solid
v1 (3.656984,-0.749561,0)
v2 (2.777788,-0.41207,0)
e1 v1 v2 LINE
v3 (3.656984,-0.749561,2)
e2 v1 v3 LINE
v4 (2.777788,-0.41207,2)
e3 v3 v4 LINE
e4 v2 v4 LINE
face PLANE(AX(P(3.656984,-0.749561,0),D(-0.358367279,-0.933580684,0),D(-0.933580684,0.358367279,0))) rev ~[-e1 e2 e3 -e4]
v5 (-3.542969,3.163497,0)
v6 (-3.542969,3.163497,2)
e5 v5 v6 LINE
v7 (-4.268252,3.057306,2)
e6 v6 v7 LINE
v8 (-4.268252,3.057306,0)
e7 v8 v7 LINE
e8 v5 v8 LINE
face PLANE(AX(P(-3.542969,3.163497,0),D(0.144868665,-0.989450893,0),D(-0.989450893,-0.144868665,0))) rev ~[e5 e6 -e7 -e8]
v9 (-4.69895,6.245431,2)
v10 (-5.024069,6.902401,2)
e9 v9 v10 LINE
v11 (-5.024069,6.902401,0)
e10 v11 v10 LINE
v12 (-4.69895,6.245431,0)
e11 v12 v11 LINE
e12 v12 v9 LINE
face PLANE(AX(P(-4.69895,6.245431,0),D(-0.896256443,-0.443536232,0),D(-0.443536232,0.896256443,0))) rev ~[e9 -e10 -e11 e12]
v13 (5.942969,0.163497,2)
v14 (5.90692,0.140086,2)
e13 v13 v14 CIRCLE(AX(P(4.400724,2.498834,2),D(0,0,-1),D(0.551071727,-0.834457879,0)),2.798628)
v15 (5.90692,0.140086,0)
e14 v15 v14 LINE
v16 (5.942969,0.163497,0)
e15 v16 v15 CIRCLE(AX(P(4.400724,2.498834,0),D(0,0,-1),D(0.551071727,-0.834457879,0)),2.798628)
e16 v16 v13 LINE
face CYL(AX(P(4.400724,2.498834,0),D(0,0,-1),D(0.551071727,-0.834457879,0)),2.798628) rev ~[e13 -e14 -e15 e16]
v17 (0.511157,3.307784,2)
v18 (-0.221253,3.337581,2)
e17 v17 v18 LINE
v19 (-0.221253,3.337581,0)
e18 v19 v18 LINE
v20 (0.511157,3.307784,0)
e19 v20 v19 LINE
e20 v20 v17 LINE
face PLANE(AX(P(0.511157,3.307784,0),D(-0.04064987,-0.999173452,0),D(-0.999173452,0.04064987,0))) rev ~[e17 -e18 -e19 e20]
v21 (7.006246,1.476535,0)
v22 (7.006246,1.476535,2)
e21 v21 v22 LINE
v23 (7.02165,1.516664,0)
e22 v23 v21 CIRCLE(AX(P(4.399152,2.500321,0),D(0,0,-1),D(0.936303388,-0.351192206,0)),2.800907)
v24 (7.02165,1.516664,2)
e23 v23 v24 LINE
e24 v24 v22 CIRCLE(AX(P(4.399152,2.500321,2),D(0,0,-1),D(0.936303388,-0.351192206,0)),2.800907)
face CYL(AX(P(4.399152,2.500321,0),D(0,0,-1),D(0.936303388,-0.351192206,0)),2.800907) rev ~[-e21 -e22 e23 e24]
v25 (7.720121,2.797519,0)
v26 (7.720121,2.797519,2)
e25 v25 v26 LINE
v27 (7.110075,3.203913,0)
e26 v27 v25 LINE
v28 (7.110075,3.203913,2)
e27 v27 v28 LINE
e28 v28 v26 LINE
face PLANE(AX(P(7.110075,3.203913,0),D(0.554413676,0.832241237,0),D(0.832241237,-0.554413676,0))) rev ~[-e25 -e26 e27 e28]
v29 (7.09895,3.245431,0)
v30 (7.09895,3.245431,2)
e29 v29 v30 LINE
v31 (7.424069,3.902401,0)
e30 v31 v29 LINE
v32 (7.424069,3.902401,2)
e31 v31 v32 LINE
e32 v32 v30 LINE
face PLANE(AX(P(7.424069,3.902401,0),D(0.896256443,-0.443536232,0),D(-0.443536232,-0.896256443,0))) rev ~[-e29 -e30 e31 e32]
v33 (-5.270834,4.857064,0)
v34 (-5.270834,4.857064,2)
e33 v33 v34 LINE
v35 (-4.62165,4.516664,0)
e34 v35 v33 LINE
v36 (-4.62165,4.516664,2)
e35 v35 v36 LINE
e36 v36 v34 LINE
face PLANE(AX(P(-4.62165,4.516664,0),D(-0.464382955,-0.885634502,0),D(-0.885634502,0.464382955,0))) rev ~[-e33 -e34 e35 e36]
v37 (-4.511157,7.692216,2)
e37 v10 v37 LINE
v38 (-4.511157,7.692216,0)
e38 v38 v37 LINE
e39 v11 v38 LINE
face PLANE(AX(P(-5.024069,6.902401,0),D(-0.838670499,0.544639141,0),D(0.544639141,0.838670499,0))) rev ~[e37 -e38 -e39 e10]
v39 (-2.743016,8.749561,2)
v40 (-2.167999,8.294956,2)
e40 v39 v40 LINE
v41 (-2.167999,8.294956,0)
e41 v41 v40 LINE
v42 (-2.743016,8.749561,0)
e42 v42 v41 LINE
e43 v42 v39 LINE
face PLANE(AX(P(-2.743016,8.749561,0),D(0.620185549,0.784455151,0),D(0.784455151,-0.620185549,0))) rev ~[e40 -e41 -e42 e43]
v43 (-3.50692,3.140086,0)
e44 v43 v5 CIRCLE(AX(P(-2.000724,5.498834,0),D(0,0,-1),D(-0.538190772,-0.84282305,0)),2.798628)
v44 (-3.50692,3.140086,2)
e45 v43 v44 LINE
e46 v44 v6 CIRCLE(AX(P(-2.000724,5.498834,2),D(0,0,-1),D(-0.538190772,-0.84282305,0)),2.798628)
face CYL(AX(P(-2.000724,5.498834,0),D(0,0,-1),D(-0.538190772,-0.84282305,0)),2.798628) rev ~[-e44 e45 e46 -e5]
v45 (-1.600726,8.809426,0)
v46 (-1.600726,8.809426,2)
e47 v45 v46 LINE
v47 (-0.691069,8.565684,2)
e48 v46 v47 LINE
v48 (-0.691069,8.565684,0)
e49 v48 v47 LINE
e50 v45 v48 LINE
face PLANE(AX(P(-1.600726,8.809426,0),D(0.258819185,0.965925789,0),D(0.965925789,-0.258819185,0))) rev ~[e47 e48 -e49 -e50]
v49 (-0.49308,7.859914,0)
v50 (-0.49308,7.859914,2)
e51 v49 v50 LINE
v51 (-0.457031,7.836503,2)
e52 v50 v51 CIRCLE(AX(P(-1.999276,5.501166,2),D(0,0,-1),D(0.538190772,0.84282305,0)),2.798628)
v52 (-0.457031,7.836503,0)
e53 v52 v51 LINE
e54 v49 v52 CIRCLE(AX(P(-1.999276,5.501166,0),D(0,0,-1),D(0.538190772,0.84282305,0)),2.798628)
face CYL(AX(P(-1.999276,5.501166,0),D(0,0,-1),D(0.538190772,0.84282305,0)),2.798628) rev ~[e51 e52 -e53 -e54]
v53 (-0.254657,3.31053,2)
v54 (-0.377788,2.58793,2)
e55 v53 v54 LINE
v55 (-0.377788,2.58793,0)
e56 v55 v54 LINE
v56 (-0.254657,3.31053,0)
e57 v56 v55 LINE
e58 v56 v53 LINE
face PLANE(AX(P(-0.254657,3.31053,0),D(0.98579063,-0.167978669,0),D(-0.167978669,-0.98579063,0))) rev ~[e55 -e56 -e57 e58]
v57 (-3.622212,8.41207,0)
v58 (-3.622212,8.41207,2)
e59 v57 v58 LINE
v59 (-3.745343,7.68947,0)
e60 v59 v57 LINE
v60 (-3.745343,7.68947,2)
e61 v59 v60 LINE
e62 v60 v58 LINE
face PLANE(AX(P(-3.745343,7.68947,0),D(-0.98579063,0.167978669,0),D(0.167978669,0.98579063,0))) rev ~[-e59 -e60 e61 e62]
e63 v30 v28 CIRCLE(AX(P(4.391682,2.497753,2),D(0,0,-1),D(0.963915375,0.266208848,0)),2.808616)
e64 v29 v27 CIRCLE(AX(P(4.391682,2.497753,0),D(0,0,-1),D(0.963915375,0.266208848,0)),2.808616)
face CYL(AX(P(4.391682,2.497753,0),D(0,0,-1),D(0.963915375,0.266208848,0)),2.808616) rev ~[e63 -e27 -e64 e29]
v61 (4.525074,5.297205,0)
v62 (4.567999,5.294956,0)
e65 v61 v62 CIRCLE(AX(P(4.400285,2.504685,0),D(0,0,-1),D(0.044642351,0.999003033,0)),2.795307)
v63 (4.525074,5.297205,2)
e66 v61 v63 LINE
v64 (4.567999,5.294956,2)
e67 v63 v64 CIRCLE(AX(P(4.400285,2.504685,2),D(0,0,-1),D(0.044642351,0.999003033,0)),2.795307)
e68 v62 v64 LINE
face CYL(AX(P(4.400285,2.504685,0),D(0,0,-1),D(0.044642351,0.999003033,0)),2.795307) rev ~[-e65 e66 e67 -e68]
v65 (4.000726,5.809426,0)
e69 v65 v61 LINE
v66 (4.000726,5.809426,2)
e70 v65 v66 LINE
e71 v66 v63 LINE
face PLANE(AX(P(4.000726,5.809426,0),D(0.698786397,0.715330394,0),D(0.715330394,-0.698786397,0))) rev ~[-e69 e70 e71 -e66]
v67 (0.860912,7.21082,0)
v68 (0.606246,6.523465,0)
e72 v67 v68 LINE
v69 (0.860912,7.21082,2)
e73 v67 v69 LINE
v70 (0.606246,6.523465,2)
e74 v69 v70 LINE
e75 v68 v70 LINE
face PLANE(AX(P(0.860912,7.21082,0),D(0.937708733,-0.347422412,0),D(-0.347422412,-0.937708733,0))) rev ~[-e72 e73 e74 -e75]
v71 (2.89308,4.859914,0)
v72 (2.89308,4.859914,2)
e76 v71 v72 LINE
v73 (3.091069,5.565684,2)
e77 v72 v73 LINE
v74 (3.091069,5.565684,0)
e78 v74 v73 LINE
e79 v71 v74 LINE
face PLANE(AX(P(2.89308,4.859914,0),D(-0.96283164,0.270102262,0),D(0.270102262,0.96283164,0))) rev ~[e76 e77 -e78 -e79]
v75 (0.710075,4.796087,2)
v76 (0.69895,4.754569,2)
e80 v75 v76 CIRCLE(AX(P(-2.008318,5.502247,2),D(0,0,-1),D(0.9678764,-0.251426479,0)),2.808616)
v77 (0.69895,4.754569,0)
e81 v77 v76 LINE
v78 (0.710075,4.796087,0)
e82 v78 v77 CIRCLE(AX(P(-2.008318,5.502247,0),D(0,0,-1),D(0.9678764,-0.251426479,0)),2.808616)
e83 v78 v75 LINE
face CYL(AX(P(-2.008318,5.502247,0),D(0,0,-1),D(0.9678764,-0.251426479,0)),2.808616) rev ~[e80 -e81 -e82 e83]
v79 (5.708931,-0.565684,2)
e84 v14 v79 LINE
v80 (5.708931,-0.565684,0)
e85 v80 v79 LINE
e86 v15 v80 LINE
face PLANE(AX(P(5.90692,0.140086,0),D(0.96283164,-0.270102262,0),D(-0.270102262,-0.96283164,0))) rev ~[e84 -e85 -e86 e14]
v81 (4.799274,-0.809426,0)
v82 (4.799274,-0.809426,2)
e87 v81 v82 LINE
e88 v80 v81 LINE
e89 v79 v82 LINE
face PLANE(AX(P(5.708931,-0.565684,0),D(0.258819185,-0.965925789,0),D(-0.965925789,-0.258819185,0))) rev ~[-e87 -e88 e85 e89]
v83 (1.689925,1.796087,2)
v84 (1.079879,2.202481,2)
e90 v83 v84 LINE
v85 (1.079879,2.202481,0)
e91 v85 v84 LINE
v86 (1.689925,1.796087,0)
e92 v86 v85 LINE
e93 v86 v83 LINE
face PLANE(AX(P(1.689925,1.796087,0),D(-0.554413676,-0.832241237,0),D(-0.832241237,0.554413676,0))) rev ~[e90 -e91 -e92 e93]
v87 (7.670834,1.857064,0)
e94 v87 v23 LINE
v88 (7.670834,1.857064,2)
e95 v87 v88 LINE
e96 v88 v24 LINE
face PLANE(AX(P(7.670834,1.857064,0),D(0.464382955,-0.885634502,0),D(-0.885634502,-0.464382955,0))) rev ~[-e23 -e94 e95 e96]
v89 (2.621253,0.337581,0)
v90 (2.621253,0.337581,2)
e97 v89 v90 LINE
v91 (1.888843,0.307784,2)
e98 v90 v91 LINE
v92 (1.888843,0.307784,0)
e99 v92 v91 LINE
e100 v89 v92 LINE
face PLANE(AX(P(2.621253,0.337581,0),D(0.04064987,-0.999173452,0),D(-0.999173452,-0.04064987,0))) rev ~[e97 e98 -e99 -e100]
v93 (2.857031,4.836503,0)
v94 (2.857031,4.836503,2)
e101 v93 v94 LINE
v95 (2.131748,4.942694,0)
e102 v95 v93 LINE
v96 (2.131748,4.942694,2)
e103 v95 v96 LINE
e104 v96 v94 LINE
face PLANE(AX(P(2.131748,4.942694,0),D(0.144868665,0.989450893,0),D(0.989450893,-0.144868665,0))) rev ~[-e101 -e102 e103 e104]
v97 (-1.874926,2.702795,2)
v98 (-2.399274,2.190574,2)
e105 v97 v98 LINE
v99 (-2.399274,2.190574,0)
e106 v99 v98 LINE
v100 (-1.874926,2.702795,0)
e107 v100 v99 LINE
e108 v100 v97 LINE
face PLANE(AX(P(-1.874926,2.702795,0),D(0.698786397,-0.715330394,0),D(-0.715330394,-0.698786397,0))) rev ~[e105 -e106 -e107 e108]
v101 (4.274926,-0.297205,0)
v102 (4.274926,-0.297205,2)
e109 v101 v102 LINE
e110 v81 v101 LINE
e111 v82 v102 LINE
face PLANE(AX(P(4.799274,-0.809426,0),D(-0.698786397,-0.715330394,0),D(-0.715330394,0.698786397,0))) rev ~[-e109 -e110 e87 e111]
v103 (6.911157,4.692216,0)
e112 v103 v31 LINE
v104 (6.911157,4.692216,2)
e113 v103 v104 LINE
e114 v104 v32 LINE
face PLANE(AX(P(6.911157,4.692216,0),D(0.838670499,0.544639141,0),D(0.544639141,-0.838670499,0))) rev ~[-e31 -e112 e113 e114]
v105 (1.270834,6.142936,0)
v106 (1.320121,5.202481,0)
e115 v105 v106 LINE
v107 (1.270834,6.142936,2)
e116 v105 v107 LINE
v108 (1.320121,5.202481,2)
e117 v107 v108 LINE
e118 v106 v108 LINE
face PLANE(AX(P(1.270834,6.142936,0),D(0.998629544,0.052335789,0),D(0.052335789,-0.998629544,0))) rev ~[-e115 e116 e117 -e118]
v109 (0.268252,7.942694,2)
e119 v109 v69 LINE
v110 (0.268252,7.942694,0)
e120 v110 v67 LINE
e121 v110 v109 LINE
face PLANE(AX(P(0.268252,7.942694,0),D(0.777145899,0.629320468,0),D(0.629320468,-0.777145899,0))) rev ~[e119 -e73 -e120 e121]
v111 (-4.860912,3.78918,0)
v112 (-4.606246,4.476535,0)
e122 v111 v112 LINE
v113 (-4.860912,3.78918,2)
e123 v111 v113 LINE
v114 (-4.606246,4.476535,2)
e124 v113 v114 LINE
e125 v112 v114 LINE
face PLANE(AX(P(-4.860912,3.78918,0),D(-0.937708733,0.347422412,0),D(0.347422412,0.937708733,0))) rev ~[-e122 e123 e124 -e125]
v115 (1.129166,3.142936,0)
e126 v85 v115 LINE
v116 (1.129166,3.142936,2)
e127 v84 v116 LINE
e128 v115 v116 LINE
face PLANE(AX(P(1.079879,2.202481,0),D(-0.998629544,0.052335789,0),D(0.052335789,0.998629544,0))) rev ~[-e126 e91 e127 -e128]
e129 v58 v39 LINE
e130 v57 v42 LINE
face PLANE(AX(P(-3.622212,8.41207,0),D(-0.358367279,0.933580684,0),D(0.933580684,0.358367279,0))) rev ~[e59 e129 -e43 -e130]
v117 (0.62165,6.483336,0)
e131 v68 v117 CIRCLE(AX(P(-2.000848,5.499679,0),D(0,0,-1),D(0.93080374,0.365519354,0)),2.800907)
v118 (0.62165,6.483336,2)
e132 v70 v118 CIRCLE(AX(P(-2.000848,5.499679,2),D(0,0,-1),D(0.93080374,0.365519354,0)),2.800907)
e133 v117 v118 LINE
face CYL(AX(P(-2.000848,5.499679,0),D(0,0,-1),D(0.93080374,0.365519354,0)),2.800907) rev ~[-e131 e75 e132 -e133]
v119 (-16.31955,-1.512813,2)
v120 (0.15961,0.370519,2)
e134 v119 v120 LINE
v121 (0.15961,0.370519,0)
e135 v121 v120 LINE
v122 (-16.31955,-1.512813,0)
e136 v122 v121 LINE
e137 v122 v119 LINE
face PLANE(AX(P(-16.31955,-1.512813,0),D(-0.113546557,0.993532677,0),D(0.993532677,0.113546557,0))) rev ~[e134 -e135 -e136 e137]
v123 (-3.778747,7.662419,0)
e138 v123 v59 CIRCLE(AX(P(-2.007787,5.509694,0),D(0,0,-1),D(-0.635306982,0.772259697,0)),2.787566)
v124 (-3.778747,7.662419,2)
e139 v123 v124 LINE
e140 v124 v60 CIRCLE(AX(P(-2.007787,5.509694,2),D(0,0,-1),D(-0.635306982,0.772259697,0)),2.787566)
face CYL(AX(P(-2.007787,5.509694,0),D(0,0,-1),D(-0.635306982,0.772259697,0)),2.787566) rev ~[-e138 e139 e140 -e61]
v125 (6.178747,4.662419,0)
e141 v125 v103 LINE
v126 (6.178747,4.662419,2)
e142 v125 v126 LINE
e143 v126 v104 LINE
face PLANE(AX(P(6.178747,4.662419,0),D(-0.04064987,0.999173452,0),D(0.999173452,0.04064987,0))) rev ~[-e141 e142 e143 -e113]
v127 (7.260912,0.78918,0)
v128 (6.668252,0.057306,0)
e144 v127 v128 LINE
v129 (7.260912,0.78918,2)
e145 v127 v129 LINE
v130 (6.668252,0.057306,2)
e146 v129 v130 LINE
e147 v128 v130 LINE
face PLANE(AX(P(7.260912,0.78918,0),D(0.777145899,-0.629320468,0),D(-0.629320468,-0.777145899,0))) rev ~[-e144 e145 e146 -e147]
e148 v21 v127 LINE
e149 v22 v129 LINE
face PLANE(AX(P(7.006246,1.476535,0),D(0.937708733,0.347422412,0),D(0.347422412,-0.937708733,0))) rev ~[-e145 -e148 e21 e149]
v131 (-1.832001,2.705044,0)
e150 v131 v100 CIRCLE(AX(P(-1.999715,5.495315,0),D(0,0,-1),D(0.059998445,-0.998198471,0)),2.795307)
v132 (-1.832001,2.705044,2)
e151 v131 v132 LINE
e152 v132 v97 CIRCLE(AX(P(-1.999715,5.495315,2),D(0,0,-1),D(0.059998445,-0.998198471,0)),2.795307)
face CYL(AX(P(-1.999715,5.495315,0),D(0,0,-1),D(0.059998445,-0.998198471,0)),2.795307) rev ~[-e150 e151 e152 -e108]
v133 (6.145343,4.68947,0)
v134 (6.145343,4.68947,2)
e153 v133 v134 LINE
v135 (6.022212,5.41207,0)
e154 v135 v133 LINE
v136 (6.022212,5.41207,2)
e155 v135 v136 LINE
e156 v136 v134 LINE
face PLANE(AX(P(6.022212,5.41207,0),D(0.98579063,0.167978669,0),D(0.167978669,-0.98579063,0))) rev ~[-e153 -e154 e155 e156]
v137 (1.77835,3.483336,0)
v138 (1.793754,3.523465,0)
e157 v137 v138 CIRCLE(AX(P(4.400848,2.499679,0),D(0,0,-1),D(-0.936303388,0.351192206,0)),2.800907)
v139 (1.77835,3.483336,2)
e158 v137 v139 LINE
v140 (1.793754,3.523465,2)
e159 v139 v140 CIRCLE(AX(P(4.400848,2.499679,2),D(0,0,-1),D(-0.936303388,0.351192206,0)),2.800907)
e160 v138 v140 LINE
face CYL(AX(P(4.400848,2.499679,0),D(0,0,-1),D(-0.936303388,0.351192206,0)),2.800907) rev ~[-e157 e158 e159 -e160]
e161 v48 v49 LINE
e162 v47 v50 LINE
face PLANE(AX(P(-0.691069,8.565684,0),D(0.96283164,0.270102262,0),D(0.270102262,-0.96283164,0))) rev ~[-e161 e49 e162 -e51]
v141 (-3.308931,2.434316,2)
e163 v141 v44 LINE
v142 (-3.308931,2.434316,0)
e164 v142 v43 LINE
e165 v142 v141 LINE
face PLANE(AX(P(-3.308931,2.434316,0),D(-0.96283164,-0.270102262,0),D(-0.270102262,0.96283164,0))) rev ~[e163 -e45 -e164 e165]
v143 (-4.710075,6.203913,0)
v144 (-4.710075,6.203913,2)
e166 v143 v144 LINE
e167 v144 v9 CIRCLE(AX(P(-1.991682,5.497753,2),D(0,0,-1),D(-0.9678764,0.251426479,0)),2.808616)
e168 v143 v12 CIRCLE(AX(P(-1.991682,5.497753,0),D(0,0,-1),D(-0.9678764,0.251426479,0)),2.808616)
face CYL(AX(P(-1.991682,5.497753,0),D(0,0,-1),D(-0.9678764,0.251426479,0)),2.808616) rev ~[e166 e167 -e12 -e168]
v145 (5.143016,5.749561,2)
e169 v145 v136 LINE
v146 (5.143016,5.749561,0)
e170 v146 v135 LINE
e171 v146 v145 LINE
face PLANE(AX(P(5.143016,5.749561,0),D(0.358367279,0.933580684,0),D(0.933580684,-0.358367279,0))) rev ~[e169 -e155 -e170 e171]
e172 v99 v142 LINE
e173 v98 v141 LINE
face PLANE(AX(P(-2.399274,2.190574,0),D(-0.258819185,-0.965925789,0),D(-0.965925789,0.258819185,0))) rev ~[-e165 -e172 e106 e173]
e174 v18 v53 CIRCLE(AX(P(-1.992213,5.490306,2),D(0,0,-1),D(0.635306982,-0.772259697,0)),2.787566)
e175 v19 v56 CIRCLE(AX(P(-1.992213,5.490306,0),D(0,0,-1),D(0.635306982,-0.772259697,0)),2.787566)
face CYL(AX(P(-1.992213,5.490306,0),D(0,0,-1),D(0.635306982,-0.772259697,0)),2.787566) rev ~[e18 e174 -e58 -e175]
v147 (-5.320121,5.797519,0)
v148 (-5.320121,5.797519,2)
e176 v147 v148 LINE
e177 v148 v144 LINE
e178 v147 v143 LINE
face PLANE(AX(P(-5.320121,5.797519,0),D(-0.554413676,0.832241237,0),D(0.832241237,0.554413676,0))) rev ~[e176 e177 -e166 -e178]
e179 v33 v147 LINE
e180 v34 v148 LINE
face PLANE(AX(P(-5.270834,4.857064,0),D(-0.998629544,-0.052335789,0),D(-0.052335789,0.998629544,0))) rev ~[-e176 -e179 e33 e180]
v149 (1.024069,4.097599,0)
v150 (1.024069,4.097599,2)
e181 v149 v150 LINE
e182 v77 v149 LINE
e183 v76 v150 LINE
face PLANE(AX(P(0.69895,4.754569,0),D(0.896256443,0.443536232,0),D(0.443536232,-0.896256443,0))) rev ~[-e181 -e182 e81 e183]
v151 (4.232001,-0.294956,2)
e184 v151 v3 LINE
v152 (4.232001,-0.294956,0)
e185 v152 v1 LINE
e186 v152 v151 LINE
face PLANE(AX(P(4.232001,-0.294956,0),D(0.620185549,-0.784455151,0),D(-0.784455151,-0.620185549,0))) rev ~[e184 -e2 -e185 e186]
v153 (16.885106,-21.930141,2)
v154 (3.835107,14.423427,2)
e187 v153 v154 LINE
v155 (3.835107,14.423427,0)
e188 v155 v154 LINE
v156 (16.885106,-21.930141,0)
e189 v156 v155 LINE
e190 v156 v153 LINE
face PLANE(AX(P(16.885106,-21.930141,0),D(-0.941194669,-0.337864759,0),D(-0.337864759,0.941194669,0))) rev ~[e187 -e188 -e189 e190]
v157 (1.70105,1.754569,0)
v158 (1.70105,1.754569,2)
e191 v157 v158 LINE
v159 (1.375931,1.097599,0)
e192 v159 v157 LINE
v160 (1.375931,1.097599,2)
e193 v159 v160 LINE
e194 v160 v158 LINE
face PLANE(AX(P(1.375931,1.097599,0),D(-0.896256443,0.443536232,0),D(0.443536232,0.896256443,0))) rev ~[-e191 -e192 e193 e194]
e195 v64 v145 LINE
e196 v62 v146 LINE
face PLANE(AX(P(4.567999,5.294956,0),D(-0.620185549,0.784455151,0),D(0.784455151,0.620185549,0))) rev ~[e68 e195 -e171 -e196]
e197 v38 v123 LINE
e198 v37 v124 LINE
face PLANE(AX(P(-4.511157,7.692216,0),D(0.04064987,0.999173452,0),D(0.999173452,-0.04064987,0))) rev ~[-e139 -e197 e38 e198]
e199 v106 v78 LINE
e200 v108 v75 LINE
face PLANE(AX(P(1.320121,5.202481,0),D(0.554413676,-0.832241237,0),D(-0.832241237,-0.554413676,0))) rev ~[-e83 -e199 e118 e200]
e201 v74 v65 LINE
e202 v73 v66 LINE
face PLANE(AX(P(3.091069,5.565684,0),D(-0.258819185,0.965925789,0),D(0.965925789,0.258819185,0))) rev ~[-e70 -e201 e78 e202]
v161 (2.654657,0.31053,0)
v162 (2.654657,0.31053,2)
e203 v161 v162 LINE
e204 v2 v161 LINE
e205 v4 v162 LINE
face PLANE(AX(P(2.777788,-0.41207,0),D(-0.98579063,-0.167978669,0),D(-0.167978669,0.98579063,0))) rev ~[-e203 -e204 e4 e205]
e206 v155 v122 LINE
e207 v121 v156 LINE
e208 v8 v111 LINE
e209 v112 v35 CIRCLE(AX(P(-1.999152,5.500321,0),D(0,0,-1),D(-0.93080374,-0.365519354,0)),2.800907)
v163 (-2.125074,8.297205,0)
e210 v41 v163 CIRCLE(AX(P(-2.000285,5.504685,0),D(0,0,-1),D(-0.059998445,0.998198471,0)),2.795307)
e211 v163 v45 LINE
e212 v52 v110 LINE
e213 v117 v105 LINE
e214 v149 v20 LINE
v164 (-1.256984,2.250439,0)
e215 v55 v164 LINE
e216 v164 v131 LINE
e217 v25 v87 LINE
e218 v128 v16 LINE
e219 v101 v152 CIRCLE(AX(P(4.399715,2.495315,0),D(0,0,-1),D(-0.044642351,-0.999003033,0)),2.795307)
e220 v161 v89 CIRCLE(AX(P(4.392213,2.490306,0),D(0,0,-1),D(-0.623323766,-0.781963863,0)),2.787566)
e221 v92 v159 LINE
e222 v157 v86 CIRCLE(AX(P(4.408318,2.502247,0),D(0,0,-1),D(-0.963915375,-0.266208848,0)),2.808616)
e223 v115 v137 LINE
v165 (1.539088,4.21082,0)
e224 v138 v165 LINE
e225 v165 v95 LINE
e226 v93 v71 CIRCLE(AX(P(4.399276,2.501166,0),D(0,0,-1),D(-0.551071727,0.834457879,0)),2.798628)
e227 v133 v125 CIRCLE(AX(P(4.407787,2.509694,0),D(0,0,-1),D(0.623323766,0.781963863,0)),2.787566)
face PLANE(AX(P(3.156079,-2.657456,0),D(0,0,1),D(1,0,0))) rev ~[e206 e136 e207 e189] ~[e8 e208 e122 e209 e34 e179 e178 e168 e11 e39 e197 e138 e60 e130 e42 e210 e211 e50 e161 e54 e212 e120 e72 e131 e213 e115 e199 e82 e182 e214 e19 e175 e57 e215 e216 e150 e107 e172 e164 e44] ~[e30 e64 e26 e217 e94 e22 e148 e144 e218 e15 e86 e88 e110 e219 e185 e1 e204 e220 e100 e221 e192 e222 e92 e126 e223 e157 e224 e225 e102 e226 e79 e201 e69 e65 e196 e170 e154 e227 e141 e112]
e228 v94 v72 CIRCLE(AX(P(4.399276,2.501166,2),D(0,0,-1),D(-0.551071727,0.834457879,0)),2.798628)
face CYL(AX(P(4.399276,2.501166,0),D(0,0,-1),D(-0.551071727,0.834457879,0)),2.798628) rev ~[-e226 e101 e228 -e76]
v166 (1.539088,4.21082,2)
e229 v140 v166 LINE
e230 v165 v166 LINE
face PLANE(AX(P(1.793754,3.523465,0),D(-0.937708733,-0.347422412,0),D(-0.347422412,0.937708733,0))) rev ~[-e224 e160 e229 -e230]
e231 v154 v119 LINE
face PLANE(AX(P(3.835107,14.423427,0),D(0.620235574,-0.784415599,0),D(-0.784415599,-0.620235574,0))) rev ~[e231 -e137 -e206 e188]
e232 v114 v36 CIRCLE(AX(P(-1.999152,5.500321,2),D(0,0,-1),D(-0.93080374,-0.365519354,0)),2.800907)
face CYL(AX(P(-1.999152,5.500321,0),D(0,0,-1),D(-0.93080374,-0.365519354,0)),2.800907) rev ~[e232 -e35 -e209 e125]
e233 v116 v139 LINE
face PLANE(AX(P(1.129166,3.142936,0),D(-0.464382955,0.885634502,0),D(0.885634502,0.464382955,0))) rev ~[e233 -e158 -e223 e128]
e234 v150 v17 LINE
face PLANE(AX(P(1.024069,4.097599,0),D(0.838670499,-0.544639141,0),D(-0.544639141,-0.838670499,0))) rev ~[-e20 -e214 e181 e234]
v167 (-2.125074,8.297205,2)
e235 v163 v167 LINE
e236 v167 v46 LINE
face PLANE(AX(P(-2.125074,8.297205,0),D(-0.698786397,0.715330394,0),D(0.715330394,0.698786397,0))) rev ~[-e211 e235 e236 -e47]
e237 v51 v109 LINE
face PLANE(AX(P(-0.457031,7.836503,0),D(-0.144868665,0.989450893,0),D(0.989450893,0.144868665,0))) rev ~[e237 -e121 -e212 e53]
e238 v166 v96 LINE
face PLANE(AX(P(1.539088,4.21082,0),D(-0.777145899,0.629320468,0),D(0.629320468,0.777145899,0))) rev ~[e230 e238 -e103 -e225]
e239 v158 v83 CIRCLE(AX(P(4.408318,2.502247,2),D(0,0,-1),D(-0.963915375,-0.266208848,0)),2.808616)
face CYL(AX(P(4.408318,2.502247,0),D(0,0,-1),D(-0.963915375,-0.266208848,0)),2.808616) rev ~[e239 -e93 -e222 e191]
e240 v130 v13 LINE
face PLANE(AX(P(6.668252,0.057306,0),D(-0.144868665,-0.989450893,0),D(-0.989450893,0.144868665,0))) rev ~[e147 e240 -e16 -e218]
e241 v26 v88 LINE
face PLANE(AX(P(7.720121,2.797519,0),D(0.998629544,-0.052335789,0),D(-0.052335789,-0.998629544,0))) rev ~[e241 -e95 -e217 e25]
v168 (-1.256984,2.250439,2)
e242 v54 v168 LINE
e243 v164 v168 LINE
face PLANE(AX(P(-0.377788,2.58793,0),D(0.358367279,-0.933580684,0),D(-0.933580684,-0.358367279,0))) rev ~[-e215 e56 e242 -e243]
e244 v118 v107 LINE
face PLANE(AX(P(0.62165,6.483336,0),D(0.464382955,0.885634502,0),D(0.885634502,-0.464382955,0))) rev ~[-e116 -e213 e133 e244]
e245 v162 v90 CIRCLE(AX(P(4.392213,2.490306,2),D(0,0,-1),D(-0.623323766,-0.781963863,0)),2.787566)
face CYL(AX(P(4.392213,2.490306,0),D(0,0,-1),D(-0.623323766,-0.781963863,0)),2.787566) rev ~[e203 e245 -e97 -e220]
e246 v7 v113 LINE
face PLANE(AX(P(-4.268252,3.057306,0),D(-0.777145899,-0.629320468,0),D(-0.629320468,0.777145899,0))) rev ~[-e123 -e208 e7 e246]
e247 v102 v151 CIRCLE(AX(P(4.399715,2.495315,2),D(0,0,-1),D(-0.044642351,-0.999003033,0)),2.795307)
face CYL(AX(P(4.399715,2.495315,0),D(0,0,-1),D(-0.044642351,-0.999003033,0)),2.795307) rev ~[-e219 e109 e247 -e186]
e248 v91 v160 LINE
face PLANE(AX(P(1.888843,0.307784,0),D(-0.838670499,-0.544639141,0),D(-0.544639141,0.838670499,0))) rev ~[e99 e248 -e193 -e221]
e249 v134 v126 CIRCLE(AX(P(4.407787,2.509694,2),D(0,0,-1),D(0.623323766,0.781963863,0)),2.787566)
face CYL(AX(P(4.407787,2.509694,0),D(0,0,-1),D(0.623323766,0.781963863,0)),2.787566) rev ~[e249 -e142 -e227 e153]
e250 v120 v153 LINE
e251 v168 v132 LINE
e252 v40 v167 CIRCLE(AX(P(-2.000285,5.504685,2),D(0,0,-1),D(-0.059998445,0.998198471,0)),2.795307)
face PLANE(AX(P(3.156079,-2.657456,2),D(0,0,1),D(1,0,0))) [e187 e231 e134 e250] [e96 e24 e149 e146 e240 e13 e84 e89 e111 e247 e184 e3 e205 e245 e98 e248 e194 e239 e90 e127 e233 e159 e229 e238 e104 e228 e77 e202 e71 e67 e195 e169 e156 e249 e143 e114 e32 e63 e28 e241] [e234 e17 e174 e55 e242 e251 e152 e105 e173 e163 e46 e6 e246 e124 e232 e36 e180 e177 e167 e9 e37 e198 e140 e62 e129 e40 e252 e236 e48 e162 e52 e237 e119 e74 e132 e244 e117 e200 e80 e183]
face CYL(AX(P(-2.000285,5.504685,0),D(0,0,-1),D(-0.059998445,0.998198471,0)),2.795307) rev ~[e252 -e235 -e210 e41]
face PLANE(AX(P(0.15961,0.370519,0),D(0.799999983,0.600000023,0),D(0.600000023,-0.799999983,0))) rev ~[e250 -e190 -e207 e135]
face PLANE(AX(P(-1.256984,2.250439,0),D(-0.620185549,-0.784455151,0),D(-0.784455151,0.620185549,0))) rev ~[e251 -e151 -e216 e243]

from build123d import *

# Parameters (mm, degrees)
F1_DEPTH = 2


with BuildPart() as f1:
    # F0 (on Top) → F1 (new body)
    with BuildSketch(Plane.XY):
        Polygon((16.885106, -21.930141), (3.835107, 14.423427), (-16.31955, -1.512813), (0.15961, 0.370519), align=None)
        with BuildLine():
            ThreePointArc((-4.606246, 4.476535), (-4.614025, 4.49657), (-4.62165, 4.516664))
            Line((-4.62165, 4.516664), (-5.270834, 4.857064))
            Line((-5.270834, 4.857064), (-5.320121, 5.797519))
            Line((-5.320121, 5.797519), (-4.710075, 6.203913))
            ThreePointArc((-4.710075, 6.203913), (-4.704592, 6.224693), (-4.69895, 6.245431))
            Line((-4.69895, 6.245431), (-5.024069, 6.902401))
            Line((-5.024069, 6.902401), (-4.511157, 7.692216))
            Line((-4.511157, 7.692216), (-3.778747, 7.662419))
            ThreePointArc((-3.778747, 7.662419), (-3.762097, 7.676009), (-3.745343, 7.68947))
            Line((-3.745343, 7.68947), (-3.622212, 8.41207))
            Line((-3.622212, 8.41207), (-2.743016, 8.749561))
            Line((-2.743016, 8.749561), (-2.167999, 8.294956))
            ThreePointArc((-2.167999, 8.294956), (-2.146541, 8.296163), (-2.125074, 8.297205))
            Line((-2.125074, 8.297205), (-1.600726, 8.809426))
            Line((-1.600726, 8.809426), (-0.691069, 8.565684))
            Line((-0.691069, 8.565684), (-0.49308, 7.859914))
            ThreePointArc((-0.49308, 7.859914), (-0.475011, 7.848278), (-0.457031, 7.836503))
            Line((-0.457031, 7.836503), (0.268252, 7.942694))
            Line((0.268252, 7.942694), (0.860912, 7.21082))
            Line((0.860912, 7.21082), (0.606246, 6.523465))
            ThreePointArc((0.606246, 6.523465), (0.614025, 6.50343), (0.62165, 6.483336))
            Line((0.62165, 6.483336), (1.270834, 6.142936))
            Line((1.270834, 6.142936), (1.320121, 5.202481))
            Line((1.320121, 5.202481), (0.710075, 4.796087))
            ThreePointArc((0.710075, 4.796087), (0.704592, 4.775307), (0.69895, 4.754569))
            Line((0.69895, 4.754569), (1.024069, 4.097599))
            Line((1.024069, 4.097599), (0.511157, 3.307784))
            Line((0.511157, 3.307784), (-0.221253, 3.337581))
            ThreePointArc((-0.221253, 3.337581), (-0.237903, 3.323991), (-0.254657, 3.31053))
            Line((-0.254657, 3.31053), (-0.377788, 2.58793))
            Line((-0.377788, 2.58793), (-1.256984, 2.250439))
            Line((-1.256984, 2.250439), (-1.832001, 2.705044))
            ThreePointArc((-1.832001, 2.705044), (-1.853459, 2.703837), (-1.874926, 2.702795))
            Line((-1.874926, 2.702795), (-2.399274, 2.190574))
            Line((-2.399274, 2.190574), (-3.308931, 2.434316))
            Line((-3.308931, 2.434316), (-3.50692, 3.140086))
            ThreePointArc((-3.50692, 3.140086), (-3.524989, 3.151722), (-3.542969, 3.163497))
            Line((-3.542969, 3.163497), (-4.268252, 3.057306))
            Line((-4.268252, 3.057306), (-4.860912, 3.78918))
            Line((-4.860912, 3.78918), (-4.606246, 4.476535))
        make_face(mode=Mode.SUBTRACT)
        with BuildLine():
            ThreePointArc((2.857031, 4.836503), (2.875011, 4.848278), (2.89308, 4.859914))
            Line((2.89308, 4.859914), (3.091069, 5.565684))
            Line((3.091069, 5.565684), (4.000726, 5.809426))
            Line((4.000726, 5.809426), (4.525074, 5.297205))
            ThreePointArc((4.525074, 5.297205), (4.546541, 5.296163), (4.567999, 5.294956))
            Line((4.567999, 5.294956), (5.143016, 5.749561))
            Line((5.143016, 5.749561), (6.022212, 5.41207))
            Line((6.022212, 5.41207), (6.145343, 4.68947))
            ThreePointArc((6.145343, 4.68947), (6.162097, 4.676009), (6.178747, 4.662419))
            Line((6.178747, 4.662419), (6.911157, 4.692216))
            Line((6.911157, 4.692216), (7.424069, 3.902401))
            Line((7.424069, 3.902401), (7.09895, 3.245431))
            ThreePointArc((7.09895, 3.245431), (7.104592, 3.224693), (7.110075, 3.203913))
            Line((7.110075, 3.203913), (7.720121, 2.797519))
            Line((7.720121, 2.797519), (7.670834, 1.857064))
            Line((7.670834, 1.857064), (7.02165, 1.516664))
            ThreePointArc((7.02165, 1.516664), (7.014025, 1.49657), (7.006246, 1.476535))
            Line((7.006246, 1.476535), (7.260912, 0.78918))
            Line((7.260912, 0.78918), (6.668252, 0.057306))
            Line((6.668252, 0.057306), (5.942969, 0.163497))
            ThreePointArc((5.942969, 0.163497), (5.924989, 0.151722), (5.90692, 0.140086))
            Line((5.90692, 0.140086), (5.708931, -0.565684))
            Line((5.708931, -0.565684), (4.799274, -0.809426))
            Line((4.799274, -0.809426), (4.274926, -0.297205))
            ThreePointArc((4.274926, -0.297205), (4.253459, -0.296163), (4.232001, -0.294956))
            Line((4.232001, -0.294956), (3.656984, -0.749561))
            Line((3.656984, -0.749561), (2.777788, -0.41207))
            Line((2.777788, -0.41207), (2.654657, 0.31053))
            ThreePointArc((2.654657, 0.31053), (2.637903, 0.323991), (2.621253, 0.337581))
            Line((2.621253, 0.337581), (1.888843, 0.307784))
            Line((1.888843, 0.307784), (1.375931, 1.097599))
            Line((1.375931, 1.097599), (1.70105, 1.754569))
            ThreePointArc((1.70105, 1.754569), (1.695408, 1.775307), (1.689925, 1.796087))
            Line((1.689925, 1.796087), (1.079879, 2.202481))
            Line((1.079879, 2.202481), (1.129166, 3.142936))
            Line((1.129166, 3.142936), (1.77835, 3.483336))
            ThreePointArc((1.77835, 3.483336), (1.785975, 3.50343), (1.793754, 3.523465))
            Line((1.793754, 3.523465), (1.539088, 4.21082))
            Line((1.539088, 4.21082), (2.131748, 4.942694))
            Line((2.131748, 4.942694), (2.857031, 4.836503))
        make_face(mode=Mode.SUBTRACT)
    extrude(amount=F1_DEPTH)


solid = f1.part
